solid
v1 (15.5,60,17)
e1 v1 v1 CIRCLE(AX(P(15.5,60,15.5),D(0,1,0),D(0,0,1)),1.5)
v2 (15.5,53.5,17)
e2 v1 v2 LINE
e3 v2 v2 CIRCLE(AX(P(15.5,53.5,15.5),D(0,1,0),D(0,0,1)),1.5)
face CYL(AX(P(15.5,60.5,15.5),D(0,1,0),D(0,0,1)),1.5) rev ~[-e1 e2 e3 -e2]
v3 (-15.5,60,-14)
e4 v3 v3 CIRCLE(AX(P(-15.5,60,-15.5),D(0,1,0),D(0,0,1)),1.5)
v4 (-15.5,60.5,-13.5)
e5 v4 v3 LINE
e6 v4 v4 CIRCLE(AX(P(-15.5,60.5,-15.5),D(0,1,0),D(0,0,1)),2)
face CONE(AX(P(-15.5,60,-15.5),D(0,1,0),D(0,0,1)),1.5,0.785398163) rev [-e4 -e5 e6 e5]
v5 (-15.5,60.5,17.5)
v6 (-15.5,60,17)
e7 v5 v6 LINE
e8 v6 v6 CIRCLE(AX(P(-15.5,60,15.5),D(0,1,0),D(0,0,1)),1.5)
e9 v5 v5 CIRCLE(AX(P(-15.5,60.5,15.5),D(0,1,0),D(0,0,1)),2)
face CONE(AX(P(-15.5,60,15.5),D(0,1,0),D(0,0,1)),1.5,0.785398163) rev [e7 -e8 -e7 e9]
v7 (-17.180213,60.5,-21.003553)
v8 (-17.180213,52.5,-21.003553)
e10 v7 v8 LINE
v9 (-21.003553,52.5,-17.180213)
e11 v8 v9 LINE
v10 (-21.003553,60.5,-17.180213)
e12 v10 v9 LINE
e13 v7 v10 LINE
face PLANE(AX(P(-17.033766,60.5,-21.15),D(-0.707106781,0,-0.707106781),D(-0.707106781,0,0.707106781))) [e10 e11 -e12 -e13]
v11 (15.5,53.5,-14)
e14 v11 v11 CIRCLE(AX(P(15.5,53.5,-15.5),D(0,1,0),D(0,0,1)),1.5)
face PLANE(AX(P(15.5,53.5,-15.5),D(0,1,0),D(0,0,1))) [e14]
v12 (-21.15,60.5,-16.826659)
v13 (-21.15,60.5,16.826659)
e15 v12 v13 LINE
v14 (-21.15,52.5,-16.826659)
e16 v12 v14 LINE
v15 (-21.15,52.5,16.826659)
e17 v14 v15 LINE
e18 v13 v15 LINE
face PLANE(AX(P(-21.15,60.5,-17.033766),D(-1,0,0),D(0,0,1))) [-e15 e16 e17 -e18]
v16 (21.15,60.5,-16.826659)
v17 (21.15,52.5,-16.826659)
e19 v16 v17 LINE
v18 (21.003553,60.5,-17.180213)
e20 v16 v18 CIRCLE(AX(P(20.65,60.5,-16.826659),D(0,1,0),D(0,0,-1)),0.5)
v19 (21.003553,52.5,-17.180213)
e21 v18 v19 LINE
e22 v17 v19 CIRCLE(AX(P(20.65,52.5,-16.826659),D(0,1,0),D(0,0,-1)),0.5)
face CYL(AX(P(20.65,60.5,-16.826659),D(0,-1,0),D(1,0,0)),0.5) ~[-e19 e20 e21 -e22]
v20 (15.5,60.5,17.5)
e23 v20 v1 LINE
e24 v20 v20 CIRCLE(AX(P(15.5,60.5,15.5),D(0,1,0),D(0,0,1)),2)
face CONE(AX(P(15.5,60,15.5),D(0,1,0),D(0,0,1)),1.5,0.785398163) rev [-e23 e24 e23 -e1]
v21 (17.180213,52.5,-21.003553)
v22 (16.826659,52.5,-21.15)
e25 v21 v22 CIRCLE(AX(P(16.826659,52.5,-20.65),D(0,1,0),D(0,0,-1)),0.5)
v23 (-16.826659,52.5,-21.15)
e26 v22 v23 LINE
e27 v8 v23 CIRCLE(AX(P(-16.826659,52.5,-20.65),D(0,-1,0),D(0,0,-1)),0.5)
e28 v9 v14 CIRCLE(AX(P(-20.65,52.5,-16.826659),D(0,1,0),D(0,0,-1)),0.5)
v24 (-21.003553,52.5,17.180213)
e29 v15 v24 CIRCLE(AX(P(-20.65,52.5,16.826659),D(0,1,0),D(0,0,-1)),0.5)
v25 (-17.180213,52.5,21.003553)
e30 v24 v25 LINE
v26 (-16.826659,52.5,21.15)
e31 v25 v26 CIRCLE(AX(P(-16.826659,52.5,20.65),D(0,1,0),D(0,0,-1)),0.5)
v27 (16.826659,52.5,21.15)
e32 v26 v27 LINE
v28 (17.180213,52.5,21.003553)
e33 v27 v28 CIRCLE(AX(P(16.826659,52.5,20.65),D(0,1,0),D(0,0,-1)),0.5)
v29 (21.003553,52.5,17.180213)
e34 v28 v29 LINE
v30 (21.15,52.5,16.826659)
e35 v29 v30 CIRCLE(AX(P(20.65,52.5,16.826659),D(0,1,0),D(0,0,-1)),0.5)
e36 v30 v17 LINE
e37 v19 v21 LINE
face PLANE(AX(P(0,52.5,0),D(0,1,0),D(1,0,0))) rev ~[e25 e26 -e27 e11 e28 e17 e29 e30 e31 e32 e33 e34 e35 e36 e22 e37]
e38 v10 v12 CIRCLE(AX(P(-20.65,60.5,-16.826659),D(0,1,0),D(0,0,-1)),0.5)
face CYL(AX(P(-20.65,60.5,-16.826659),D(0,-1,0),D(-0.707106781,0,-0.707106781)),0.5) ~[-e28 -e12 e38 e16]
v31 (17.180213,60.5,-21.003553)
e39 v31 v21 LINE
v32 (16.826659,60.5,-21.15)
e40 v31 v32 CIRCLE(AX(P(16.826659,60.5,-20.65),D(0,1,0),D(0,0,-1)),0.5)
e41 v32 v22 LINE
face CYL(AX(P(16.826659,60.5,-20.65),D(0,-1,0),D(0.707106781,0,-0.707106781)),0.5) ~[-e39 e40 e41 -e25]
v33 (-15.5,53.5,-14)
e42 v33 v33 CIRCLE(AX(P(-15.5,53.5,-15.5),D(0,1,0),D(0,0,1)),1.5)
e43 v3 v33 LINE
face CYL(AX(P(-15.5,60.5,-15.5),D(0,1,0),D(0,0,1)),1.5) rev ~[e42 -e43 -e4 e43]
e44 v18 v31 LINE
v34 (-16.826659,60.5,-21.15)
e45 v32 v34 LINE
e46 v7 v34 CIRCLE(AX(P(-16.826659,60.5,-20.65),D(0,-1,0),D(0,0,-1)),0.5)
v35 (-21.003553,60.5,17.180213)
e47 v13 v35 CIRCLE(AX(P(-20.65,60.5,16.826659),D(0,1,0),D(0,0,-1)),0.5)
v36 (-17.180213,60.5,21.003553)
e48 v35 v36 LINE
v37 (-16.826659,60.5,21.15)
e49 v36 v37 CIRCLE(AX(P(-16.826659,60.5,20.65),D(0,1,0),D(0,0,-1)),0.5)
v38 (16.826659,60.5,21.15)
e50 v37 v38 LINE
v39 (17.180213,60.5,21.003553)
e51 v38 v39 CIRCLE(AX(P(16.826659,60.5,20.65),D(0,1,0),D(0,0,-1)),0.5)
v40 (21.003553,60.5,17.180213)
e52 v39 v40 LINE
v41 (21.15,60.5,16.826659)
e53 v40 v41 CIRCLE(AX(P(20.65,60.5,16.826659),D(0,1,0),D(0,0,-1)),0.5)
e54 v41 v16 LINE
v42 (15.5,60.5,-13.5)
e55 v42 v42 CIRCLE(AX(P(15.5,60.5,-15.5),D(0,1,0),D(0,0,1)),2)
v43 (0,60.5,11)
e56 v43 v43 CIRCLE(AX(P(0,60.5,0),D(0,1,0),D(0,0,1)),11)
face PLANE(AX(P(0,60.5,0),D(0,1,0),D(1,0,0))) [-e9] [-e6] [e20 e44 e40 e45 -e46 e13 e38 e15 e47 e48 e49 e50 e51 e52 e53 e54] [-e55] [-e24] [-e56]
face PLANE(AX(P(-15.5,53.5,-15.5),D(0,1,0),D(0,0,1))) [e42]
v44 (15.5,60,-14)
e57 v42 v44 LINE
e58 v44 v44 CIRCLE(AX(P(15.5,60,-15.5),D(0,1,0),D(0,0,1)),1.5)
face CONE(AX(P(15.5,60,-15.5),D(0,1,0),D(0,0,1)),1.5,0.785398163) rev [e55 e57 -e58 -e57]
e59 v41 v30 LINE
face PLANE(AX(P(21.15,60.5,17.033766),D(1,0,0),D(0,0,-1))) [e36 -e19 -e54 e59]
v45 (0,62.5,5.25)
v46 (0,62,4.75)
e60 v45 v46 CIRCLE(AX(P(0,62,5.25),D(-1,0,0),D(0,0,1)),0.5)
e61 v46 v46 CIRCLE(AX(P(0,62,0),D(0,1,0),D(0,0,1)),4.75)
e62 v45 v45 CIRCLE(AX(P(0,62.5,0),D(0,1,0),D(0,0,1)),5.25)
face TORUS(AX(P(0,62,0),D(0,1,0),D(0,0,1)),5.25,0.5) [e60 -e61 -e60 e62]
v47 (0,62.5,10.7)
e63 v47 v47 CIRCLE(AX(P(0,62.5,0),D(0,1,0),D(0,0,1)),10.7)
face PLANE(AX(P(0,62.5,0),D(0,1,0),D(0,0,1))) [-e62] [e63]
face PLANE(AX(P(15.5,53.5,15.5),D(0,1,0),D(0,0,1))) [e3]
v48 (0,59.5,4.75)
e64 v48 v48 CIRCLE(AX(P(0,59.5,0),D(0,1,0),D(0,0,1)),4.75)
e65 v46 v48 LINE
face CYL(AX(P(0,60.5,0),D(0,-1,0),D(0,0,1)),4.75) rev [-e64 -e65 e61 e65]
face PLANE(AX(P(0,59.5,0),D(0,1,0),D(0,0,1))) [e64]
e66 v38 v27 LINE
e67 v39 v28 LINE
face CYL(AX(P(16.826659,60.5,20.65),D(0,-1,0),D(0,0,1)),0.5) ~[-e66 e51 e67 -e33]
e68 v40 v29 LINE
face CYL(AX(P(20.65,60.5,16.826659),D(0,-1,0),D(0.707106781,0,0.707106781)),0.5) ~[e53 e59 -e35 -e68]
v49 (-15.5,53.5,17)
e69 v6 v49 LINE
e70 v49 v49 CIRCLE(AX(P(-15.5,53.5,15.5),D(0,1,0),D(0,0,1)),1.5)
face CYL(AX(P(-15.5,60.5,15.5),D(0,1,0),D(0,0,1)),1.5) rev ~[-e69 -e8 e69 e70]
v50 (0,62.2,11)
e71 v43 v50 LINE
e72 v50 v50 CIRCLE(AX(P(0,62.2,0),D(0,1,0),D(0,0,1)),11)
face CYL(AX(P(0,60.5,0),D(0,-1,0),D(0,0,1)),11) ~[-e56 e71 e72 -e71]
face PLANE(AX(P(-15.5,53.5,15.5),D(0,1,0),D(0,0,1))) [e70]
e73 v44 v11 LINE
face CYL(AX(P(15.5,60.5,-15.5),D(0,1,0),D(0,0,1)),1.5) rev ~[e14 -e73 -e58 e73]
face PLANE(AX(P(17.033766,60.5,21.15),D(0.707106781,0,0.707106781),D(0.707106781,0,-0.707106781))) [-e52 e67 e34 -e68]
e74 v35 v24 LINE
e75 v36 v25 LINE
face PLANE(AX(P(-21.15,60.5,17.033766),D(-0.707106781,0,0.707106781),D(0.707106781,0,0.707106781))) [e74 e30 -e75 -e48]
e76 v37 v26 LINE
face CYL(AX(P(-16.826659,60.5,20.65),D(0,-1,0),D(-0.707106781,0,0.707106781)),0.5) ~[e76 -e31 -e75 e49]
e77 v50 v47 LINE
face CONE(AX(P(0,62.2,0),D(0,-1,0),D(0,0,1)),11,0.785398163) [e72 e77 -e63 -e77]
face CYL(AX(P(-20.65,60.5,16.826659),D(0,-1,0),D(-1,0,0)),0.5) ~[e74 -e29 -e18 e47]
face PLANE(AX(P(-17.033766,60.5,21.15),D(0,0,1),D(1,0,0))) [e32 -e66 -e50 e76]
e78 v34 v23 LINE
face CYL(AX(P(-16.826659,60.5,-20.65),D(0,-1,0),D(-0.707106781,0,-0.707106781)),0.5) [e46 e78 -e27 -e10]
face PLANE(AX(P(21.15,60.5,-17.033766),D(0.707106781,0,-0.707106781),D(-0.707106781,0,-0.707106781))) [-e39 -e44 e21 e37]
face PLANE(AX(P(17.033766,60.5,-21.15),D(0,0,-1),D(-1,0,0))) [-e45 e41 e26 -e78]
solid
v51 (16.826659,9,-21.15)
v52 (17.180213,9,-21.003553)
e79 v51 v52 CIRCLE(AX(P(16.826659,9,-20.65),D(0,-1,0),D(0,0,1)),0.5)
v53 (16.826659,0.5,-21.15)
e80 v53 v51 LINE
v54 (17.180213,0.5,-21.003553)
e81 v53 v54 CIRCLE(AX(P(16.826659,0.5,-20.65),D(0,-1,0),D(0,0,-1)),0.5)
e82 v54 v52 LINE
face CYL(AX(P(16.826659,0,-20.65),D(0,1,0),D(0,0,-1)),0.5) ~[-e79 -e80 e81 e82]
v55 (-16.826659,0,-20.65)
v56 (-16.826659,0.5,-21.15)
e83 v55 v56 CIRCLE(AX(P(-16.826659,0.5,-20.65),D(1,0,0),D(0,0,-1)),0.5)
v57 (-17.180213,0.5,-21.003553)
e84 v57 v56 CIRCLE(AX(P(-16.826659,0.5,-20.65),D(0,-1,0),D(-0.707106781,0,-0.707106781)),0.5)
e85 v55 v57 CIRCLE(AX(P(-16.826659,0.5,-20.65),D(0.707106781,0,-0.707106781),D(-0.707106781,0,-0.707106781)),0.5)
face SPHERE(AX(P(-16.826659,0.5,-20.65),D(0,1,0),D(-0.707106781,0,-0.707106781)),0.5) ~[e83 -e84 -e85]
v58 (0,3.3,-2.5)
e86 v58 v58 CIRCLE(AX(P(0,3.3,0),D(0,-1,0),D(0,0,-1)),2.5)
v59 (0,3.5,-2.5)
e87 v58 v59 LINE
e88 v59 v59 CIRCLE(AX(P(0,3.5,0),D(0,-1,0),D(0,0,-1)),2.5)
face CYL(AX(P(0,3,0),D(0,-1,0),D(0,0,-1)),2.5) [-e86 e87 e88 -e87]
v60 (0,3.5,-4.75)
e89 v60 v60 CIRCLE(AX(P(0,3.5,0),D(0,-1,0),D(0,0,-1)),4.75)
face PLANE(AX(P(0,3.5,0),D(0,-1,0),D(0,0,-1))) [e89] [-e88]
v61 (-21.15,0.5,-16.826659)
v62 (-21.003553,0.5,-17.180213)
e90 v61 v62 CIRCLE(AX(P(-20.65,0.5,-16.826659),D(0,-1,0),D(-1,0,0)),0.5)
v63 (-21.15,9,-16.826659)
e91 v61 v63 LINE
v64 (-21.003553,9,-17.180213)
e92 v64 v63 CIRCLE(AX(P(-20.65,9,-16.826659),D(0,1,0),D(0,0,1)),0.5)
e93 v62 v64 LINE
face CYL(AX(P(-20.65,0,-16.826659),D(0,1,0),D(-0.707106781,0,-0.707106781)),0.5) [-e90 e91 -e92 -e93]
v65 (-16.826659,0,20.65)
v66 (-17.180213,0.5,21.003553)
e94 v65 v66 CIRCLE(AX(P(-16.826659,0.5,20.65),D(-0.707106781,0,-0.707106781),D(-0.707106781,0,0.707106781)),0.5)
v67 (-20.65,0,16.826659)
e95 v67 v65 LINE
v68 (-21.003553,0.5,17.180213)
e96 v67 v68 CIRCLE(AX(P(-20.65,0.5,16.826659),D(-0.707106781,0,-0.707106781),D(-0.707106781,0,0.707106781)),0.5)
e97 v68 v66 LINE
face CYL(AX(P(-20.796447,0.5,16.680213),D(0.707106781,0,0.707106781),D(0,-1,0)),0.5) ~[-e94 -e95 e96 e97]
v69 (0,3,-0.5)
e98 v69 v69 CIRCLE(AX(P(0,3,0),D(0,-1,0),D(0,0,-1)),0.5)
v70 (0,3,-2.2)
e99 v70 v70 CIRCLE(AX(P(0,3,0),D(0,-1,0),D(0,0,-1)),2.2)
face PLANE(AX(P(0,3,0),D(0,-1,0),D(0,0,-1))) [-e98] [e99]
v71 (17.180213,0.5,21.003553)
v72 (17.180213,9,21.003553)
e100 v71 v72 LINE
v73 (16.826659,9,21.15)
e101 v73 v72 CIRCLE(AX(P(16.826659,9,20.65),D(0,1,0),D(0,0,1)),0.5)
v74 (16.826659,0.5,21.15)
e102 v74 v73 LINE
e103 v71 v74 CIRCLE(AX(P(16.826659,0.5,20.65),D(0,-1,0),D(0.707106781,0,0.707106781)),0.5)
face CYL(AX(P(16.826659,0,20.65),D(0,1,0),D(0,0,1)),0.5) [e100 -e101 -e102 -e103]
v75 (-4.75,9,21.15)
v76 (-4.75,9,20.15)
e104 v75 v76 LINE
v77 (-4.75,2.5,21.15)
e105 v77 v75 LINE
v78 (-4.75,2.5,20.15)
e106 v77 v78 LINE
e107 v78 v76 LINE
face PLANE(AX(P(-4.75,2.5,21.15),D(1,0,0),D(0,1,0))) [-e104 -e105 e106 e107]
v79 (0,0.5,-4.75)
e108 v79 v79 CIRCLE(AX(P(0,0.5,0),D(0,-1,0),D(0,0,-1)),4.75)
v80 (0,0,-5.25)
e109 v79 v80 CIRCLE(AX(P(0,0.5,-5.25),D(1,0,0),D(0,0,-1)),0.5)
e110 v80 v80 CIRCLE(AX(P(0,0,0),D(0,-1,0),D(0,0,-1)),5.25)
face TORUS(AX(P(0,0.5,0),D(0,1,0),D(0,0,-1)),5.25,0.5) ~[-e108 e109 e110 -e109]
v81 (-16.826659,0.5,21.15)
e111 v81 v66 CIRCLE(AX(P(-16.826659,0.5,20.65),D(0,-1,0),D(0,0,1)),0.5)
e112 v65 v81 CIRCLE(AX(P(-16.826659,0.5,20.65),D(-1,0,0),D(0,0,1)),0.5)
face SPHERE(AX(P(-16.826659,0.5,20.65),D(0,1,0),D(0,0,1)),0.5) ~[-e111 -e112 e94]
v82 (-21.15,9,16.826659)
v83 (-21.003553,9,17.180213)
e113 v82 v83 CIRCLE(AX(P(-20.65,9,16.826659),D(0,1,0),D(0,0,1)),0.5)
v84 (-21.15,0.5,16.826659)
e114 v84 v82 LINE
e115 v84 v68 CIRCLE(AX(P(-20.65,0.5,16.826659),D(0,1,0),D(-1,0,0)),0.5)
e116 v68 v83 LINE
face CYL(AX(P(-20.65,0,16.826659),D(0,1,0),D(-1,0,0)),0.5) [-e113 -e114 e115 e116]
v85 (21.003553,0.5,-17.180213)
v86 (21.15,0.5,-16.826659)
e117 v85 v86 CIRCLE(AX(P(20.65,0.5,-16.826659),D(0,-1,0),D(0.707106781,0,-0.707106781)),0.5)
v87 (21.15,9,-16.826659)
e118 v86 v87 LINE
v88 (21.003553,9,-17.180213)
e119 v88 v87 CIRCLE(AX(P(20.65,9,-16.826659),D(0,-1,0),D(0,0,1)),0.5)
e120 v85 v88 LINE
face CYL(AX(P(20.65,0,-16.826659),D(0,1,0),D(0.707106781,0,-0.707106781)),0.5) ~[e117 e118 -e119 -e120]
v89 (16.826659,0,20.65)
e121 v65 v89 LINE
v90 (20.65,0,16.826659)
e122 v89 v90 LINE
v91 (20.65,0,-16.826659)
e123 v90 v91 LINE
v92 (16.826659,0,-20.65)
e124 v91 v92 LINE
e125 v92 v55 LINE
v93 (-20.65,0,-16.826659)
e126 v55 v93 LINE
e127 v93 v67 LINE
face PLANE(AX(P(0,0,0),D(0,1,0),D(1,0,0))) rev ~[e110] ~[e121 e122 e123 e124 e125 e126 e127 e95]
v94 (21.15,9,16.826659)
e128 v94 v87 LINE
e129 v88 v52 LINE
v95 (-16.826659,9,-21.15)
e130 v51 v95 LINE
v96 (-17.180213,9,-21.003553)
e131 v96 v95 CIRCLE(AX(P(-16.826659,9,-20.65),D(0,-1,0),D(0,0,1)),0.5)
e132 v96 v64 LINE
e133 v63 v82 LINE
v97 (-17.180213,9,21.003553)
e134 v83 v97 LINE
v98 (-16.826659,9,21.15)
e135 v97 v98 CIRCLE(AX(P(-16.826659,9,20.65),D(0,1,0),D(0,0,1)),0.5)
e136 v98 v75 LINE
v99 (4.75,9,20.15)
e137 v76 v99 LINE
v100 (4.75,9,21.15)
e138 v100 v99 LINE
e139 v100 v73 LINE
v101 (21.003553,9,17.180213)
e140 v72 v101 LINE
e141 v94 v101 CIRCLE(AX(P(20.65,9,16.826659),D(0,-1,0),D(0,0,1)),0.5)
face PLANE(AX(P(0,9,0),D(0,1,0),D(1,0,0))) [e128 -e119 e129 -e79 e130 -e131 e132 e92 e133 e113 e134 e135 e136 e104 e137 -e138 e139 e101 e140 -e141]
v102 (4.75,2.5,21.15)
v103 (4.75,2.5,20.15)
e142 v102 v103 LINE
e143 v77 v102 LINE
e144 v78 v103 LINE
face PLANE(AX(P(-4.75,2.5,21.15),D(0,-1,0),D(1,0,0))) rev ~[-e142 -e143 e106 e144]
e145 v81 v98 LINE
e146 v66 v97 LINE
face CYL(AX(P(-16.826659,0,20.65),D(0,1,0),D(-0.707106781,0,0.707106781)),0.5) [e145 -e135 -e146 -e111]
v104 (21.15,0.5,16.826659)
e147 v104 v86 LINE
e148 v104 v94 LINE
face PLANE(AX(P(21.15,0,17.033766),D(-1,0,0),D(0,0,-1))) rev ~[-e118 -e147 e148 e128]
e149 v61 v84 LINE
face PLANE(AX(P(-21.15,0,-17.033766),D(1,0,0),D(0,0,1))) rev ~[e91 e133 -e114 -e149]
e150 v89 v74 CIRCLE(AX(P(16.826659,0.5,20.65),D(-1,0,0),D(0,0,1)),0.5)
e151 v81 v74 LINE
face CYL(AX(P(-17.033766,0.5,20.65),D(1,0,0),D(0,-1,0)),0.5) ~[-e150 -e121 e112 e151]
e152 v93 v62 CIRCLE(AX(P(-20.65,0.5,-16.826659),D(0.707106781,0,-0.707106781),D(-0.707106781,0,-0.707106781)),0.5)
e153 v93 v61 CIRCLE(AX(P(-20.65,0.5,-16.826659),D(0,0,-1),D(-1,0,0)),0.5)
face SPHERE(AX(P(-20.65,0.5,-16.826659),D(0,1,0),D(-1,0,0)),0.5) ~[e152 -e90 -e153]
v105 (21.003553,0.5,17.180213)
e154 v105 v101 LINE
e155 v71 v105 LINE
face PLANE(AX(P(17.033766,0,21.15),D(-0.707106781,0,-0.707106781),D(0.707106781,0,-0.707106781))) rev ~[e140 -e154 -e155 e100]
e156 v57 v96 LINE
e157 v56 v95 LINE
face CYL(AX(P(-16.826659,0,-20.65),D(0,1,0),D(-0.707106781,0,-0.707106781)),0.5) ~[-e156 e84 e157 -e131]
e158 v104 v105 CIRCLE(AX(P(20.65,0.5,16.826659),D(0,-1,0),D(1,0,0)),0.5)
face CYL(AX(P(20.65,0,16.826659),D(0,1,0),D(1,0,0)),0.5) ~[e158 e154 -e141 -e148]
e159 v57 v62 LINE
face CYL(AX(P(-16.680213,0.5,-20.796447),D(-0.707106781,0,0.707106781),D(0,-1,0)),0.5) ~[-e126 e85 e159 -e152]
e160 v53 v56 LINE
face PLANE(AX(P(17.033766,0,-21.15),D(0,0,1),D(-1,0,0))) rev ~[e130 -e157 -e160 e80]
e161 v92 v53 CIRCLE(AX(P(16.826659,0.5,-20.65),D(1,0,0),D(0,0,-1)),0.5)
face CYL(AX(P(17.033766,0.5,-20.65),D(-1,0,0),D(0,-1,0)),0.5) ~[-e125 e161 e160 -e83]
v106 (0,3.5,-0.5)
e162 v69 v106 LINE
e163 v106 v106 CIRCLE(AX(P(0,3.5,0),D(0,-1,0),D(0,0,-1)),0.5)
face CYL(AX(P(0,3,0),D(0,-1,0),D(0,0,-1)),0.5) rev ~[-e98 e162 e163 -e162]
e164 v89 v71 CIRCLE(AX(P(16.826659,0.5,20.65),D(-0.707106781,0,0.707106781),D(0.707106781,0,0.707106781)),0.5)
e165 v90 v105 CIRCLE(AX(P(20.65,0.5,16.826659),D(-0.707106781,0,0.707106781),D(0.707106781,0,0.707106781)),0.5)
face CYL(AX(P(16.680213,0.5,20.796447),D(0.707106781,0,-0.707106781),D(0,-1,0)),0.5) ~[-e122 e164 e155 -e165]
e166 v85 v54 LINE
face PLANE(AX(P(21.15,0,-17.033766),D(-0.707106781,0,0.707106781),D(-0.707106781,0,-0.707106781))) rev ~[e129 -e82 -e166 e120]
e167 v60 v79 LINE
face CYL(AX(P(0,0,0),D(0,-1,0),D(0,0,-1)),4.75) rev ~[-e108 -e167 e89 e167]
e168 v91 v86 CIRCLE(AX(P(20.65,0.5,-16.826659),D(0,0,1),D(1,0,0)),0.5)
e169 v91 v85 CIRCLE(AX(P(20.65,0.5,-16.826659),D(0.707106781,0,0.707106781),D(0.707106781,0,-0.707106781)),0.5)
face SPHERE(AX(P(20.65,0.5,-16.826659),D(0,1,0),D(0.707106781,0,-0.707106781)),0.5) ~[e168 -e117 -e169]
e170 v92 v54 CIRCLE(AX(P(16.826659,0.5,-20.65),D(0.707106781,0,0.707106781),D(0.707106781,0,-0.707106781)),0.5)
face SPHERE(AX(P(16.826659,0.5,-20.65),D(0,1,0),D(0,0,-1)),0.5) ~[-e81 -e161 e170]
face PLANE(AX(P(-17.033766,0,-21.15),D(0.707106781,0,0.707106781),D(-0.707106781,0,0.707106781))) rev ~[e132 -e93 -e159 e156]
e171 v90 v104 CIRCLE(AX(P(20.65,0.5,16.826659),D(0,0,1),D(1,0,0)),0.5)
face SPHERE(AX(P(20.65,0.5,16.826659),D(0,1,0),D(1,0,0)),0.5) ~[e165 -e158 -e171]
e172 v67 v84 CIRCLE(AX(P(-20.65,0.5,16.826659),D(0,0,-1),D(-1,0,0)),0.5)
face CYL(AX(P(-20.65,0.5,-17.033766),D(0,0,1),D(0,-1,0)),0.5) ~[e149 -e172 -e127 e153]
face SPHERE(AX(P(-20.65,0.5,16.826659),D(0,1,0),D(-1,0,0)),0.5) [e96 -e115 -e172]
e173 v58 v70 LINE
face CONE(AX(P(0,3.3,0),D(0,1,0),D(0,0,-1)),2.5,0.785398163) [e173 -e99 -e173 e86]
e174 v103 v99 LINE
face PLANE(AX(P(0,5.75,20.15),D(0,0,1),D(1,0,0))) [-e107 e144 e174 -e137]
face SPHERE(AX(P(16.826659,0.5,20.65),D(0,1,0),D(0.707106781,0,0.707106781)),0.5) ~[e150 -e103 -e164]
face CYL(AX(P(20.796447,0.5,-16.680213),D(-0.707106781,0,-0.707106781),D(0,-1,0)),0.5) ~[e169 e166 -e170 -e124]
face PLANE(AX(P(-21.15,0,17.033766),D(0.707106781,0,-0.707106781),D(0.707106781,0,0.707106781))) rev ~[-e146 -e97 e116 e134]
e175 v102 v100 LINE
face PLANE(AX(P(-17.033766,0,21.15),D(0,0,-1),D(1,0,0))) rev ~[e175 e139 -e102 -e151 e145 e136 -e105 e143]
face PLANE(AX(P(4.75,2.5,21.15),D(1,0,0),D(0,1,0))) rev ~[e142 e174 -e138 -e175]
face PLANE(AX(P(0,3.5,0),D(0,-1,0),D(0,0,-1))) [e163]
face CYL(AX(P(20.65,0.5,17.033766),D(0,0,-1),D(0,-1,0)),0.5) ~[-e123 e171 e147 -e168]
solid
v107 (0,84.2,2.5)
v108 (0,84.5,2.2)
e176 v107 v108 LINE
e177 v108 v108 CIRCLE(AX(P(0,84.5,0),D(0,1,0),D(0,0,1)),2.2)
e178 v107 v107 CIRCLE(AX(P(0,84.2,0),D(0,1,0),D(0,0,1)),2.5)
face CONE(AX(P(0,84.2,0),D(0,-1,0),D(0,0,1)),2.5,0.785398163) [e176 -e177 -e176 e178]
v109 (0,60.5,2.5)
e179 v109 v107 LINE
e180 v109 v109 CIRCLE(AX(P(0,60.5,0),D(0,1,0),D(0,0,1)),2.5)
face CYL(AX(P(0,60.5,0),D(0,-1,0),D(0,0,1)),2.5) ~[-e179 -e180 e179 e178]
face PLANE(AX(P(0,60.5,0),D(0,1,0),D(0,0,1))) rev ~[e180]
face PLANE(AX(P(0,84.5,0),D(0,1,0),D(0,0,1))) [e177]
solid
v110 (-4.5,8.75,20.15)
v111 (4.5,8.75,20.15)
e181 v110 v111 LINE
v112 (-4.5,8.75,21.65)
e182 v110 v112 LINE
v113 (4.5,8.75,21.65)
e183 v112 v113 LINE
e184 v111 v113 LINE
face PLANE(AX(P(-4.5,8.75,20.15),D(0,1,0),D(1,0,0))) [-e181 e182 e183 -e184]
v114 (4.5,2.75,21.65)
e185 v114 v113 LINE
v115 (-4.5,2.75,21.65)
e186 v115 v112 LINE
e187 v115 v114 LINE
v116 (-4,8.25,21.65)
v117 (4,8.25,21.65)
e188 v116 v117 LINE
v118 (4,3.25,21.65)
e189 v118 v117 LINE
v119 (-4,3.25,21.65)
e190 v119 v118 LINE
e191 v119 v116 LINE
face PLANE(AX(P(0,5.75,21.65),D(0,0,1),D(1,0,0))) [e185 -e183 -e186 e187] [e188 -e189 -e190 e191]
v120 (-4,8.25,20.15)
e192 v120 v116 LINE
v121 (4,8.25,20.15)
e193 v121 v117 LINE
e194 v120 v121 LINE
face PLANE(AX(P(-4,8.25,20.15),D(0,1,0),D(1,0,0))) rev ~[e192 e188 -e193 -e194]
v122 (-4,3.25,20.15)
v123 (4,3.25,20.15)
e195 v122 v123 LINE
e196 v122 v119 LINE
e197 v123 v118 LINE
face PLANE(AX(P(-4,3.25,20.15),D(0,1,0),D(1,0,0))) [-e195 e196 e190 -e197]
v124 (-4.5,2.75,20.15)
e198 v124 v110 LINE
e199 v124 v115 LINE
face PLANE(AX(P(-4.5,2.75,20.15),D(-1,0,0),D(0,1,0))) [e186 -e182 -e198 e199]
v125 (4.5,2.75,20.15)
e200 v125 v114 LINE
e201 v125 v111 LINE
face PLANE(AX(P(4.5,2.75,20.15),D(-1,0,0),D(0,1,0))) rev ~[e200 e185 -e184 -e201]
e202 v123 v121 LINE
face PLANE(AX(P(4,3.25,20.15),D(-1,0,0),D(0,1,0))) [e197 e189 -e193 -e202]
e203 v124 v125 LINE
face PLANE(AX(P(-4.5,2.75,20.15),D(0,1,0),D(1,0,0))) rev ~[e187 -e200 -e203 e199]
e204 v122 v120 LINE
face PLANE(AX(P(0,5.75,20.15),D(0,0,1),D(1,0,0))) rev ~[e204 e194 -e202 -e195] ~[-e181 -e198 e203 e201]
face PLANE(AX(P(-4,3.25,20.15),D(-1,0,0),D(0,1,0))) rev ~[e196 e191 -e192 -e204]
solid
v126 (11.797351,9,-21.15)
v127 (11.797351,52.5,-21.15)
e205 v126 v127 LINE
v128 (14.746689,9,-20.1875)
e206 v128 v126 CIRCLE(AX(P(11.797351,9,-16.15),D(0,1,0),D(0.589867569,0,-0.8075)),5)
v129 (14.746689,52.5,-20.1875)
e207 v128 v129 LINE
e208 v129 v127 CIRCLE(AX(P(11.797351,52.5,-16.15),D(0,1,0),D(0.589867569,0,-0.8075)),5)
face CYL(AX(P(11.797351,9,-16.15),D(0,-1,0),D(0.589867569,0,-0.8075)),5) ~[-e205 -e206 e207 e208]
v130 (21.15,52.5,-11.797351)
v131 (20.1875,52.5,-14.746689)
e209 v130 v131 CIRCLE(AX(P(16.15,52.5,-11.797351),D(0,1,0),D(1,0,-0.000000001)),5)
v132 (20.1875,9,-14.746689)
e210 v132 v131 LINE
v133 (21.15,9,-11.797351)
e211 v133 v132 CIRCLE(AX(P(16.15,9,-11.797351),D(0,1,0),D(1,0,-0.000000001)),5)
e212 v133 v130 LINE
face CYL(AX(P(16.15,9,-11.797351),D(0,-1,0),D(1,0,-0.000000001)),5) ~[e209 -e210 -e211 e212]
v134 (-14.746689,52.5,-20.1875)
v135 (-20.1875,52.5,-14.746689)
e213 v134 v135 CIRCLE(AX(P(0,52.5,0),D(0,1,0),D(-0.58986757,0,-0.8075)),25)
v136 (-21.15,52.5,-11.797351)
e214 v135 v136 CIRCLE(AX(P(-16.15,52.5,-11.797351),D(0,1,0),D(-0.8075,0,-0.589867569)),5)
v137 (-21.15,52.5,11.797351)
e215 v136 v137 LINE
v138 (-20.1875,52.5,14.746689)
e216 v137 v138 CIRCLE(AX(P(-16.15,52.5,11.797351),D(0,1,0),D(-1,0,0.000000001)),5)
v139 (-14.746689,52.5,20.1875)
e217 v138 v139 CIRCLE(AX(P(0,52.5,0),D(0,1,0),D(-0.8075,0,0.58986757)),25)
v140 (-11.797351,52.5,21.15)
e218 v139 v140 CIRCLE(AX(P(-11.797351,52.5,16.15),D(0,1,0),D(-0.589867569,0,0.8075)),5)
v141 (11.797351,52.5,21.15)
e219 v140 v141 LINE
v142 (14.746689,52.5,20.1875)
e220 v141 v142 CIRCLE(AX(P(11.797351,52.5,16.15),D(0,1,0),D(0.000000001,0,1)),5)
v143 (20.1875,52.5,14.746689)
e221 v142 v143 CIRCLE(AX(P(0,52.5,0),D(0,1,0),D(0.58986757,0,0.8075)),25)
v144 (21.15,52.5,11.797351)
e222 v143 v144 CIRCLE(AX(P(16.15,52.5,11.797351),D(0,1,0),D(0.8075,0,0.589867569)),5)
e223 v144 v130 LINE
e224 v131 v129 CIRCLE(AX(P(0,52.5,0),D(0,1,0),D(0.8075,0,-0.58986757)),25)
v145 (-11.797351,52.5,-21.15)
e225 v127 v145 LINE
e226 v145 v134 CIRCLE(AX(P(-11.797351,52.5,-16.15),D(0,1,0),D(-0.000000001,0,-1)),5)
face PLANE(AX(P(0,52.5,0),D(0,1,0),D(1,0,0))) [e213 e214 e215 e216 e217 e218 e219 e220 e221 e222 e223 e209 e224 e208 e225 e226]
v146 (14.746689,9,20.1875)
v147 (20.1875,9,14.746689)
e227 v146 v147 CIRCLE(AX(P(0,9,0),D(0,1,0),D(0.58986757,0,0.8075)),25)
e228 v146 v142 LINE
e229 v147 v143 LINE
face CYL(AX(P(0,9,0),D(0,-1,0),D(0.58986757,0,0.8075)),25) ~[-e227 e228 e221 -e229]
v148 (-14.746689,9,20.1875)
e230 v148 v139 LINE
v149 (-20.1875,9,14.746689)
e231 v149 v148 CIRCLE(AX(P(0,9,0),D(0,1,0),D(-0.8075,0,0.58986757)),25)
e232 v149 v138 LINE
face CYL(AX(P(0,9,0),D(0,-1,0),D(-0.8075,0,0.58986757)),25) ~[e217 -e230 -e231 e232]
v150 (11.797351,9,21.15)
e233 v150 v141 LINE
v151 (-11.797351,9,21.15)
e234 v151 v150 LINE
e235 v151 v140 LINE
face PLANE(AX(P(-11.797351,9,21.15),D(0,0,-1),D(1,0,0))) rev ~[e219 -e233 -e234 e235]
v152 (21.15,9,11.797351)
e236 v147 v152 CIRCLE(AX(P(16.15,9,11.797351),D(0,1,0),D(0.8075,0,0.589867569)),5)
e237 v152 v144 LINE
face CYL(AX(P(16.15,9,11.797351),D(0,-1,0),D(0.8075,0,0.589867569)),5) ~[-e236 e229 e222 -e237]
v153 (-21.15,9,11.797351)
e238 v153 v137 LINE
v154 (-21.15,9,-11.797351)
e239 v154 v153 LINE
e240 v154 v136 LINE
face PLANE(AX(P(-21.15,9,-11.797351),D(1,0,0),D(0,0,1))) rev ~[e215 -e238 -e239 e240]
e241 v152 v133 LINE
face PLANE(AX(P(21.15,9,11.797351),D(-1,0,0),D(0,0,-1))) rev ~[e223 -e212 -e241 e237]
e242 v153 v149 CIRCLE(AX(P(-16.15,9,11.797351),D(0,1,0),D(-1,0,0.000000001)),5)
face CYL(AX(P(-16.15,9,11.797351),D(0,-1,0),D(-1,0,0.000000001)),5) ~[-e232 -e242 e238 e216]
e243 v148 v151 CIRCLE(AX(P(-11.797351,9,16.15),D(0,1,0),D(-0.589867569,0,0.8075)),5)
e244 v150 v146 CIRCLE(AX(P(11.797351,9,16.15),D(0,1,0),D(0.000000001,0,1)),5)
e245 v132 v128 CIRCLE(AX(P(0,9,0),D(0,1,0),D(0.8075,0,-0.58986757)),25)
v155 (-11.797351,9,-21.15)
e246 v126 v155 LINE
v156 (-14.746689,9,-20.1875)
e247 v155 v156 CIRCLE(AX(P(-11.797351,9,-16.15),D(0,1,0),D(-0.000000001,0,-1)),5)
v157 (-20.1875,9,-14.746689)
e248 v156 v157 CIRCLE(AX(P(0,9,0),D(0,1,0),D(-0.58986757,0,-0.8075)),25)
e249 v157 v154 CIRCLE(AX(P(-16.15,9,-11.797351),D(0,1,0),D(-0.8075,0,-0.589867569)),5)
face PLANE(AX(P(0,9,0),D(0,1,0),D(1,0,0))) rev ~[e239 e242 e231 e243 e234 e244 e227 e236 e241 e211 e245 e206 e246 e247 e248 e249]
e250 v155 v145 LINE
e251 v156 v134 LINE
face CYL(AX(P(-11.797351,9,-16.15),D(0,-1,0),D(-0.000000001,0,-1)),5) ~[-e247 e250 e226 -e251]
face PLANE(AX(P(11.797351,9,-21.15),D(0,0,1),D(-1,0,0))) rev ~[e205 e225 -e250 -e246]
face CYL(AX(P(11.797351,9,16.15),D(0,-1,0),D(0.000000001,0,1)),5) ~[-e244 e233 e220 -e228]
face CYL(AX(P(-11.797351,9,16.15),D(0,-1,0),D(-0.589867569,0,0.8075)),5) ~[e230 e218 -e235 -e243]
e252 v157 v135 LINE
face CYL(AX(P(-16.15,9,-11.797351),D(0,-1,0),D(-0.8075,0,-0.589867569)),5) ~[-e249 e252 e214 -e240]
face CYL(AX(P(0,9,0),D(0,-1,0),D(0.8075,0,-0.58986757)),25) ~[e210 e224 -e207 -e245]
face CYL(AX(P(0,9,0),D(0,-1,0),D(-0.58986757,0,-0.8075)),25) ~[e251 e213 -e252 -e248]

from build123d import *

# Parameters (mm, degrees)
EXTRUDE_1_DEPTH     = 9
EXTRUDE_START       = 60.5
EXTRUDE_2_DEPTH     = 8
EXTRUDE_3_DEPTH     = 43.5
SKETCH_3_R          = 4.75
CUT_EXTRUDE_1_DEPTH = 3
SKETCH_4_R          = 4.75
SKETCH_4_R_2        = 2.5
CUT_EXTRUDE_2_DEPTH = 0.5
SKETCH_5_R          = 0.5
CUT_EXTRUDE_3_DEPTH = 0.5
CHAMFER_1_SIZE      = 0.3
FILLET_1_R          = 0.5
FILLET_2_R          = 0.5
SKETCH_6_R          = 11
SKETCH_6_R_2        = 4.75
EXTRUDE_4_DEPTH     = 2
CUT_EXTRUDE_START   = -1
SKETCH_7_R          = 4.75
CUT_EXTRUDE_4_DEPTH = 1
CHAMFER_2_SIZE      = 0.3
FILLET_3_R          = 0.5
SKETCH_8_R          = 2.5
EXTRUDE_5_DEPTH     = 24
CHAMFER_4_SIZE      = 0.3
SKETCH_10_W         = 9.5
SKETCH_10_H         = 6.5
CUT_EXTRUDE_6_DEPTH = 1
SKETCH_11_W         = 9
SKETCH_11_H         = 6
SKETCH_11_W_2       = 8
SKETCH_11_H_2       = 5
EXTRUDE_6_DEPTH     = 1.5
SKETCH_16_R         = 1.5
CUT_EXTRUDE_9_DEPTH = 7
CHAMFER_35_SIZE     = 0.5


with BuildPart() as part:
    # Эскиз1 → Бобышка-Вытянуть1 (new body)
    with BuildSketch(Plane(origin=(0, 0, 0), x_dir=(1, 0, 0), z_dir=(0, 1, 0))):
        Polygon((-17.033766184, 21.15), (-21.15, 17.033766184), (-21.15, -17.033766184), (-17.033766184, -21.15), (17.033766184, -21.15), (21.15, -17.033766184), (21.15, 17.033766184), (17.033766184, 21.15), align=None)
    extrude(amount=EXTRUDE_1_DEPTH)

    # Эскиз3 → Вырез-Вытянуть1 (cut)
    with BuildSketch(Plane.XZ):
        Circle(SKETCH_3_R)
    extrude(amount=-CUT_EXTRUDE_1_DEPTH, mode=Mode.SUBTRACT)

    # Эскиз4 → Вырез-Вытянуть2 (cut)
    with BuildSketch(Plane.XZ.offset(-3)):
        Circle(SKETCH_4_R)
        Circle(SKETCH_4_R_2, mode=Mode.SUBTRACT)
    extrude(amount=-CUT_EXTRUDE_2_DEPTH, mode=Mode.SUBTRACT)

    # Эскиз5 → Вырез-Вытянуть3 (cut)
    with BuildSketch(Plane.XZ.offset(-3)):
        Circle(SKETCH_5_R)
    extrude(amount=-CUT_EXTRUDE_3_DEPTH, mode=Mode.SUBTRACT)

    # Фаска1
    chamfer_1_edges = [part.edges().sort_by_distance(p)[0] for p in [
        (-2.5, 3, 0),
    ]]
    chamfer(chamfer_1_edges, length=CHAMFER_1_SIZE)

    # Скругление1
    fillet_1_edges = [part.edges().sort_by_distance(p)[0] for p in [
        (0, 0, 21.15),
        (19.091883092, 0, 19.091883092),
        (21.15, 0, 0),
        (19.091883092, 0, -19.091883092),
        (0, 0, -21.15),
        (-19.091883092, 0, -19.091883092),
        (-21.15, 0, 0),
        (-19.091883092, 0, 19.091883092),
        (-4.75, 0, 0),
        (21.15, 4.5, 17.033766184),
        (17.033766184, 4.5, 21.15),
        (-17.033766184, 4.5, 21.15),
        (-21.15, 4.5, 17.033766184),
        (-21.15, 4.5, -17.033766184),
        (-17.033766184, 4.5, -21.15),
        (17.033766184, 4.5, -21.15),
        (21.15, 4.5, -17.033766184),
    ]]
    fillet(fillet_1_edges, radius=FILLET_1_R)

    # Эскиз10 → Вырез-Вытянуть6 (cut)
    with BuildSketch(Plane.XY.offset(21.15)):
        with Locations((0, 5.75)):
            Rectangle(SKETCH_10_W, SKETCH_10_H)
    extrude(amount=-CUT_EXTRUDE_6_DEPTH, mode=Mode.SUBTRACT)


with BuildPart() as body_2:
    # Эскиз1<3> → Бобышка-Вытянуть2 (new body)
    with BuildSketch(Plane(origin=(0, 0, 0), x_dir=(1, 0, 0), z_dir=(0, 1, 0)).offset(EXTRUDE_START)):
        Polygon((-17.033766184, 21.15), (-21.15, 17.033766184), (-21.15, -17.033766184), (-17.033766184, -21.15), (17.033766184, -21.15), (21.15, -17.033766184), (21.15, 17.033766184), (17.033766184, 21.15), align=None)
    extrude(amount=-EXTRUDE_2_DEPTH)

    # Скругление2
    fillet_2_edges = [body_2.edges().sort_by_distance(p)[0] for p in [
        (21.15, 56.5, 17.033766184),
        (17.033766184, 56.5, 21.15),
        (-17.033766184, 56.5, 21.15),
        (-21.15, 56.5, 17.033766184),
        (-21.15, 56.5, -17.033766184),
        (-17.033766184, 56.5, -21.15),
        (17.033766184, 56.5, -21.15),
        (21.15, 56.5, -17.033766184),
    ]]
    fillet(fillet_2_edges, radius=FILLET_2_R)

    # Эскиз6 → Бобышка-Вытянуть4 (add)
    with BuildSketch(Plane(origin=(0, 60.5, 0), x_dir=(1, 0, 0), z_dir=(0, 1, 0))):
        Circle(SKETCH_6_R)
        Circle(SKETCH_6_R_2, mode=Mode.SUBTRACT)
    extrude(amount=EXTRUDE_4_DEPTH)

    # Эскиз7 → Вырез-Вытянуть4 (cut)
    with BuildSketch(Plane(origin=(0, 60.5, 0), x_dir=(1, 0, 0), z_dir=(0, 1, 0)).offset(CUT_EXTRUDE_START)):
        Circle(SKETCH_7_R)
    extrude(amount=CUT_EXTRUDE_4_DEPTH, mode=Mode.SUBTRACT)

    # Фаска2
    chamfer_2_edges = [body_2.edges().sort_by_distance(p)[0] for p in [
        (-11, 62.5, 0),
    ]]
    chamfer(chamfer_2_edges, length=CHAMFER_2_SIZE)

    # Скругление3
    fillet_3_edges = [body_2.edges().sort_by_distance(p)[0] for p in [
        (-4.75, 62.5, 0),
    ]]
    fillet(fillet_3_edges, radius=FILLET_3_R)

    # Эскиз16 → Вырез-Вытянуть9 (cut)
    with BuildSketch(Plane(origin=(0, 60.5, 0), x_dir=(1, 0, 0), z_dir=(0, 1, 0))):
        with Locations((-15.5, 15.5)):
            Circle(SKETCH_16_R)
        with Locations((15.5, 15.5)):
            Circle(SKETCH_16_R)
        with Locations((15.5, -15.5)):
            Circle(SKETCH_16_R)
        with Locations((-15.5, -15.5)):
            Circle(SKETCH_16_R)
    extrude(amount=-CUT_EXTRUDE_9_DEPTH, mode=Mode.SUBTRACT)

    # Фаска35
    chamfer_35_edges = [body_2.edges().sort_by_distance(p)[0] for p in [
        (-17, 60.5, 15.5),
        (14, 60.5, 15.5),
        (14, 60.5, -15.5),
        (-17, 60.5, -15.5),
    ]]
    chamfer(chamfer_35_edges, length=CHAMFER_35_SIZE)


with BuildPart() as body_3:
    # Эскиз2 → Бобышка-Вытянуть3 (new body)
    with BuildSketch(Plane(origin=(0, 9, 0), x_dir=(1, 0, 0), z_dir=(0, 1, 0))):
        with BuildLine():
            Line((-11.797351398, -21.15), (11.797351398, -21.15))
            ThreePointArc((11.797351398, -21.15), (13.348560603, -20.903288335), (14.746689247, -20.1875))
            ThreePointArc((14.746689247, -20.1875), (17.67766953, -17.67766953), (20.1875, -14.746689247))
            ThreePointArc((20.1875, -14.746689247), (20.903288335, -13.348560603), (21.15, -11.797351398))
            Line((21.15, -11.797351398), (21.15, 11.797351398))
            ThreePointArc((21.15, 11.797351398), (20.903288335, 13.348560603), (20.1875, 14.746689247))
            ThreePointArc((20.1875, 14.746689247), (17.67766953, 17.67766953), (14.746689247, 20.1875))
            ThreePointArc((14.746689247, 20.1875), (13.348560603, 20.903288335), (11.797351398, 21.15))
            Line((11.797351398, 21.15), (-11.797351398, 21.15))
            ThreePointArc((-11.797351398, 21.15), (-13.348560603, 20.903288335), (-14.746689247, 20.1875))
            ThreePointArc((-14.746689247, 20.1875), (-17.67766953, 17.67766953), (-20.1875, 14.746689247))
            ThreePointArc((-20.1875, 14.746689247), (-20.903288335, 13.348560603), (-21.15, 11.797351398))
            Line((-21.15, 11.797351398), (-21.15, -11.797351398))
            ThreePointArc((-21.15, -11.797351398), (-20.903288335, -13.348560603), (-20.1875, -14.746689247))
            ThreePointArc((-20.1875, -14.746689247), (-17.67766953, -17.67766953), (-14.746689247, -20.1875))
            ThreePointArc((-14.746689247, -20.1875), (-13.348560603, -20.903288335), (-11.797351398, -21.15))
        make_face()
    extrude(amount=EXTRUDE_3_DEPTH)


with BuildPart() as body_4:
    # Эскиз8 → Бобышка-Вытянуть5 (new body)
    with BuildSketch(Plane(origin=(0, 60.5, 0), x_dir=(1, 0, 0), z_dir=(0, 1, 0))):
        Circle(SKETCH_8_R)
    extrude(amount=EXTRUDE_5_DEPTH)

    # Фаска4
    chamfer_4_edges = [body_4.edges().sort_by_distance(p)[0] for p in [
        (-2.5, 84.5, 0),
    ]]
    chamfer(chamfer_4_edges, length=CHAMFER_4_SIZE)


with BuildPart() as body_5:
    # Эскиз11 → Бобышка-Вытянуть6 (new body)
    with BuildSketch(Plane.XY.offset(20.15)):
        with Locations((0, 5.75)):
            Rectangle(SKETCH_11_W, SKETCH_11_H)
        with Locations((0, 5.75)):
            Rectangle(SKETCH_11_W_2, SKETCH_11_H_2, mode=Mode.SUBTRACT)
    extrude(amount=EXTRUDE_6_DEPTH)


solid = Compound([part.part, body_2.part, body_3.part, body_4.part, body_5.part])
